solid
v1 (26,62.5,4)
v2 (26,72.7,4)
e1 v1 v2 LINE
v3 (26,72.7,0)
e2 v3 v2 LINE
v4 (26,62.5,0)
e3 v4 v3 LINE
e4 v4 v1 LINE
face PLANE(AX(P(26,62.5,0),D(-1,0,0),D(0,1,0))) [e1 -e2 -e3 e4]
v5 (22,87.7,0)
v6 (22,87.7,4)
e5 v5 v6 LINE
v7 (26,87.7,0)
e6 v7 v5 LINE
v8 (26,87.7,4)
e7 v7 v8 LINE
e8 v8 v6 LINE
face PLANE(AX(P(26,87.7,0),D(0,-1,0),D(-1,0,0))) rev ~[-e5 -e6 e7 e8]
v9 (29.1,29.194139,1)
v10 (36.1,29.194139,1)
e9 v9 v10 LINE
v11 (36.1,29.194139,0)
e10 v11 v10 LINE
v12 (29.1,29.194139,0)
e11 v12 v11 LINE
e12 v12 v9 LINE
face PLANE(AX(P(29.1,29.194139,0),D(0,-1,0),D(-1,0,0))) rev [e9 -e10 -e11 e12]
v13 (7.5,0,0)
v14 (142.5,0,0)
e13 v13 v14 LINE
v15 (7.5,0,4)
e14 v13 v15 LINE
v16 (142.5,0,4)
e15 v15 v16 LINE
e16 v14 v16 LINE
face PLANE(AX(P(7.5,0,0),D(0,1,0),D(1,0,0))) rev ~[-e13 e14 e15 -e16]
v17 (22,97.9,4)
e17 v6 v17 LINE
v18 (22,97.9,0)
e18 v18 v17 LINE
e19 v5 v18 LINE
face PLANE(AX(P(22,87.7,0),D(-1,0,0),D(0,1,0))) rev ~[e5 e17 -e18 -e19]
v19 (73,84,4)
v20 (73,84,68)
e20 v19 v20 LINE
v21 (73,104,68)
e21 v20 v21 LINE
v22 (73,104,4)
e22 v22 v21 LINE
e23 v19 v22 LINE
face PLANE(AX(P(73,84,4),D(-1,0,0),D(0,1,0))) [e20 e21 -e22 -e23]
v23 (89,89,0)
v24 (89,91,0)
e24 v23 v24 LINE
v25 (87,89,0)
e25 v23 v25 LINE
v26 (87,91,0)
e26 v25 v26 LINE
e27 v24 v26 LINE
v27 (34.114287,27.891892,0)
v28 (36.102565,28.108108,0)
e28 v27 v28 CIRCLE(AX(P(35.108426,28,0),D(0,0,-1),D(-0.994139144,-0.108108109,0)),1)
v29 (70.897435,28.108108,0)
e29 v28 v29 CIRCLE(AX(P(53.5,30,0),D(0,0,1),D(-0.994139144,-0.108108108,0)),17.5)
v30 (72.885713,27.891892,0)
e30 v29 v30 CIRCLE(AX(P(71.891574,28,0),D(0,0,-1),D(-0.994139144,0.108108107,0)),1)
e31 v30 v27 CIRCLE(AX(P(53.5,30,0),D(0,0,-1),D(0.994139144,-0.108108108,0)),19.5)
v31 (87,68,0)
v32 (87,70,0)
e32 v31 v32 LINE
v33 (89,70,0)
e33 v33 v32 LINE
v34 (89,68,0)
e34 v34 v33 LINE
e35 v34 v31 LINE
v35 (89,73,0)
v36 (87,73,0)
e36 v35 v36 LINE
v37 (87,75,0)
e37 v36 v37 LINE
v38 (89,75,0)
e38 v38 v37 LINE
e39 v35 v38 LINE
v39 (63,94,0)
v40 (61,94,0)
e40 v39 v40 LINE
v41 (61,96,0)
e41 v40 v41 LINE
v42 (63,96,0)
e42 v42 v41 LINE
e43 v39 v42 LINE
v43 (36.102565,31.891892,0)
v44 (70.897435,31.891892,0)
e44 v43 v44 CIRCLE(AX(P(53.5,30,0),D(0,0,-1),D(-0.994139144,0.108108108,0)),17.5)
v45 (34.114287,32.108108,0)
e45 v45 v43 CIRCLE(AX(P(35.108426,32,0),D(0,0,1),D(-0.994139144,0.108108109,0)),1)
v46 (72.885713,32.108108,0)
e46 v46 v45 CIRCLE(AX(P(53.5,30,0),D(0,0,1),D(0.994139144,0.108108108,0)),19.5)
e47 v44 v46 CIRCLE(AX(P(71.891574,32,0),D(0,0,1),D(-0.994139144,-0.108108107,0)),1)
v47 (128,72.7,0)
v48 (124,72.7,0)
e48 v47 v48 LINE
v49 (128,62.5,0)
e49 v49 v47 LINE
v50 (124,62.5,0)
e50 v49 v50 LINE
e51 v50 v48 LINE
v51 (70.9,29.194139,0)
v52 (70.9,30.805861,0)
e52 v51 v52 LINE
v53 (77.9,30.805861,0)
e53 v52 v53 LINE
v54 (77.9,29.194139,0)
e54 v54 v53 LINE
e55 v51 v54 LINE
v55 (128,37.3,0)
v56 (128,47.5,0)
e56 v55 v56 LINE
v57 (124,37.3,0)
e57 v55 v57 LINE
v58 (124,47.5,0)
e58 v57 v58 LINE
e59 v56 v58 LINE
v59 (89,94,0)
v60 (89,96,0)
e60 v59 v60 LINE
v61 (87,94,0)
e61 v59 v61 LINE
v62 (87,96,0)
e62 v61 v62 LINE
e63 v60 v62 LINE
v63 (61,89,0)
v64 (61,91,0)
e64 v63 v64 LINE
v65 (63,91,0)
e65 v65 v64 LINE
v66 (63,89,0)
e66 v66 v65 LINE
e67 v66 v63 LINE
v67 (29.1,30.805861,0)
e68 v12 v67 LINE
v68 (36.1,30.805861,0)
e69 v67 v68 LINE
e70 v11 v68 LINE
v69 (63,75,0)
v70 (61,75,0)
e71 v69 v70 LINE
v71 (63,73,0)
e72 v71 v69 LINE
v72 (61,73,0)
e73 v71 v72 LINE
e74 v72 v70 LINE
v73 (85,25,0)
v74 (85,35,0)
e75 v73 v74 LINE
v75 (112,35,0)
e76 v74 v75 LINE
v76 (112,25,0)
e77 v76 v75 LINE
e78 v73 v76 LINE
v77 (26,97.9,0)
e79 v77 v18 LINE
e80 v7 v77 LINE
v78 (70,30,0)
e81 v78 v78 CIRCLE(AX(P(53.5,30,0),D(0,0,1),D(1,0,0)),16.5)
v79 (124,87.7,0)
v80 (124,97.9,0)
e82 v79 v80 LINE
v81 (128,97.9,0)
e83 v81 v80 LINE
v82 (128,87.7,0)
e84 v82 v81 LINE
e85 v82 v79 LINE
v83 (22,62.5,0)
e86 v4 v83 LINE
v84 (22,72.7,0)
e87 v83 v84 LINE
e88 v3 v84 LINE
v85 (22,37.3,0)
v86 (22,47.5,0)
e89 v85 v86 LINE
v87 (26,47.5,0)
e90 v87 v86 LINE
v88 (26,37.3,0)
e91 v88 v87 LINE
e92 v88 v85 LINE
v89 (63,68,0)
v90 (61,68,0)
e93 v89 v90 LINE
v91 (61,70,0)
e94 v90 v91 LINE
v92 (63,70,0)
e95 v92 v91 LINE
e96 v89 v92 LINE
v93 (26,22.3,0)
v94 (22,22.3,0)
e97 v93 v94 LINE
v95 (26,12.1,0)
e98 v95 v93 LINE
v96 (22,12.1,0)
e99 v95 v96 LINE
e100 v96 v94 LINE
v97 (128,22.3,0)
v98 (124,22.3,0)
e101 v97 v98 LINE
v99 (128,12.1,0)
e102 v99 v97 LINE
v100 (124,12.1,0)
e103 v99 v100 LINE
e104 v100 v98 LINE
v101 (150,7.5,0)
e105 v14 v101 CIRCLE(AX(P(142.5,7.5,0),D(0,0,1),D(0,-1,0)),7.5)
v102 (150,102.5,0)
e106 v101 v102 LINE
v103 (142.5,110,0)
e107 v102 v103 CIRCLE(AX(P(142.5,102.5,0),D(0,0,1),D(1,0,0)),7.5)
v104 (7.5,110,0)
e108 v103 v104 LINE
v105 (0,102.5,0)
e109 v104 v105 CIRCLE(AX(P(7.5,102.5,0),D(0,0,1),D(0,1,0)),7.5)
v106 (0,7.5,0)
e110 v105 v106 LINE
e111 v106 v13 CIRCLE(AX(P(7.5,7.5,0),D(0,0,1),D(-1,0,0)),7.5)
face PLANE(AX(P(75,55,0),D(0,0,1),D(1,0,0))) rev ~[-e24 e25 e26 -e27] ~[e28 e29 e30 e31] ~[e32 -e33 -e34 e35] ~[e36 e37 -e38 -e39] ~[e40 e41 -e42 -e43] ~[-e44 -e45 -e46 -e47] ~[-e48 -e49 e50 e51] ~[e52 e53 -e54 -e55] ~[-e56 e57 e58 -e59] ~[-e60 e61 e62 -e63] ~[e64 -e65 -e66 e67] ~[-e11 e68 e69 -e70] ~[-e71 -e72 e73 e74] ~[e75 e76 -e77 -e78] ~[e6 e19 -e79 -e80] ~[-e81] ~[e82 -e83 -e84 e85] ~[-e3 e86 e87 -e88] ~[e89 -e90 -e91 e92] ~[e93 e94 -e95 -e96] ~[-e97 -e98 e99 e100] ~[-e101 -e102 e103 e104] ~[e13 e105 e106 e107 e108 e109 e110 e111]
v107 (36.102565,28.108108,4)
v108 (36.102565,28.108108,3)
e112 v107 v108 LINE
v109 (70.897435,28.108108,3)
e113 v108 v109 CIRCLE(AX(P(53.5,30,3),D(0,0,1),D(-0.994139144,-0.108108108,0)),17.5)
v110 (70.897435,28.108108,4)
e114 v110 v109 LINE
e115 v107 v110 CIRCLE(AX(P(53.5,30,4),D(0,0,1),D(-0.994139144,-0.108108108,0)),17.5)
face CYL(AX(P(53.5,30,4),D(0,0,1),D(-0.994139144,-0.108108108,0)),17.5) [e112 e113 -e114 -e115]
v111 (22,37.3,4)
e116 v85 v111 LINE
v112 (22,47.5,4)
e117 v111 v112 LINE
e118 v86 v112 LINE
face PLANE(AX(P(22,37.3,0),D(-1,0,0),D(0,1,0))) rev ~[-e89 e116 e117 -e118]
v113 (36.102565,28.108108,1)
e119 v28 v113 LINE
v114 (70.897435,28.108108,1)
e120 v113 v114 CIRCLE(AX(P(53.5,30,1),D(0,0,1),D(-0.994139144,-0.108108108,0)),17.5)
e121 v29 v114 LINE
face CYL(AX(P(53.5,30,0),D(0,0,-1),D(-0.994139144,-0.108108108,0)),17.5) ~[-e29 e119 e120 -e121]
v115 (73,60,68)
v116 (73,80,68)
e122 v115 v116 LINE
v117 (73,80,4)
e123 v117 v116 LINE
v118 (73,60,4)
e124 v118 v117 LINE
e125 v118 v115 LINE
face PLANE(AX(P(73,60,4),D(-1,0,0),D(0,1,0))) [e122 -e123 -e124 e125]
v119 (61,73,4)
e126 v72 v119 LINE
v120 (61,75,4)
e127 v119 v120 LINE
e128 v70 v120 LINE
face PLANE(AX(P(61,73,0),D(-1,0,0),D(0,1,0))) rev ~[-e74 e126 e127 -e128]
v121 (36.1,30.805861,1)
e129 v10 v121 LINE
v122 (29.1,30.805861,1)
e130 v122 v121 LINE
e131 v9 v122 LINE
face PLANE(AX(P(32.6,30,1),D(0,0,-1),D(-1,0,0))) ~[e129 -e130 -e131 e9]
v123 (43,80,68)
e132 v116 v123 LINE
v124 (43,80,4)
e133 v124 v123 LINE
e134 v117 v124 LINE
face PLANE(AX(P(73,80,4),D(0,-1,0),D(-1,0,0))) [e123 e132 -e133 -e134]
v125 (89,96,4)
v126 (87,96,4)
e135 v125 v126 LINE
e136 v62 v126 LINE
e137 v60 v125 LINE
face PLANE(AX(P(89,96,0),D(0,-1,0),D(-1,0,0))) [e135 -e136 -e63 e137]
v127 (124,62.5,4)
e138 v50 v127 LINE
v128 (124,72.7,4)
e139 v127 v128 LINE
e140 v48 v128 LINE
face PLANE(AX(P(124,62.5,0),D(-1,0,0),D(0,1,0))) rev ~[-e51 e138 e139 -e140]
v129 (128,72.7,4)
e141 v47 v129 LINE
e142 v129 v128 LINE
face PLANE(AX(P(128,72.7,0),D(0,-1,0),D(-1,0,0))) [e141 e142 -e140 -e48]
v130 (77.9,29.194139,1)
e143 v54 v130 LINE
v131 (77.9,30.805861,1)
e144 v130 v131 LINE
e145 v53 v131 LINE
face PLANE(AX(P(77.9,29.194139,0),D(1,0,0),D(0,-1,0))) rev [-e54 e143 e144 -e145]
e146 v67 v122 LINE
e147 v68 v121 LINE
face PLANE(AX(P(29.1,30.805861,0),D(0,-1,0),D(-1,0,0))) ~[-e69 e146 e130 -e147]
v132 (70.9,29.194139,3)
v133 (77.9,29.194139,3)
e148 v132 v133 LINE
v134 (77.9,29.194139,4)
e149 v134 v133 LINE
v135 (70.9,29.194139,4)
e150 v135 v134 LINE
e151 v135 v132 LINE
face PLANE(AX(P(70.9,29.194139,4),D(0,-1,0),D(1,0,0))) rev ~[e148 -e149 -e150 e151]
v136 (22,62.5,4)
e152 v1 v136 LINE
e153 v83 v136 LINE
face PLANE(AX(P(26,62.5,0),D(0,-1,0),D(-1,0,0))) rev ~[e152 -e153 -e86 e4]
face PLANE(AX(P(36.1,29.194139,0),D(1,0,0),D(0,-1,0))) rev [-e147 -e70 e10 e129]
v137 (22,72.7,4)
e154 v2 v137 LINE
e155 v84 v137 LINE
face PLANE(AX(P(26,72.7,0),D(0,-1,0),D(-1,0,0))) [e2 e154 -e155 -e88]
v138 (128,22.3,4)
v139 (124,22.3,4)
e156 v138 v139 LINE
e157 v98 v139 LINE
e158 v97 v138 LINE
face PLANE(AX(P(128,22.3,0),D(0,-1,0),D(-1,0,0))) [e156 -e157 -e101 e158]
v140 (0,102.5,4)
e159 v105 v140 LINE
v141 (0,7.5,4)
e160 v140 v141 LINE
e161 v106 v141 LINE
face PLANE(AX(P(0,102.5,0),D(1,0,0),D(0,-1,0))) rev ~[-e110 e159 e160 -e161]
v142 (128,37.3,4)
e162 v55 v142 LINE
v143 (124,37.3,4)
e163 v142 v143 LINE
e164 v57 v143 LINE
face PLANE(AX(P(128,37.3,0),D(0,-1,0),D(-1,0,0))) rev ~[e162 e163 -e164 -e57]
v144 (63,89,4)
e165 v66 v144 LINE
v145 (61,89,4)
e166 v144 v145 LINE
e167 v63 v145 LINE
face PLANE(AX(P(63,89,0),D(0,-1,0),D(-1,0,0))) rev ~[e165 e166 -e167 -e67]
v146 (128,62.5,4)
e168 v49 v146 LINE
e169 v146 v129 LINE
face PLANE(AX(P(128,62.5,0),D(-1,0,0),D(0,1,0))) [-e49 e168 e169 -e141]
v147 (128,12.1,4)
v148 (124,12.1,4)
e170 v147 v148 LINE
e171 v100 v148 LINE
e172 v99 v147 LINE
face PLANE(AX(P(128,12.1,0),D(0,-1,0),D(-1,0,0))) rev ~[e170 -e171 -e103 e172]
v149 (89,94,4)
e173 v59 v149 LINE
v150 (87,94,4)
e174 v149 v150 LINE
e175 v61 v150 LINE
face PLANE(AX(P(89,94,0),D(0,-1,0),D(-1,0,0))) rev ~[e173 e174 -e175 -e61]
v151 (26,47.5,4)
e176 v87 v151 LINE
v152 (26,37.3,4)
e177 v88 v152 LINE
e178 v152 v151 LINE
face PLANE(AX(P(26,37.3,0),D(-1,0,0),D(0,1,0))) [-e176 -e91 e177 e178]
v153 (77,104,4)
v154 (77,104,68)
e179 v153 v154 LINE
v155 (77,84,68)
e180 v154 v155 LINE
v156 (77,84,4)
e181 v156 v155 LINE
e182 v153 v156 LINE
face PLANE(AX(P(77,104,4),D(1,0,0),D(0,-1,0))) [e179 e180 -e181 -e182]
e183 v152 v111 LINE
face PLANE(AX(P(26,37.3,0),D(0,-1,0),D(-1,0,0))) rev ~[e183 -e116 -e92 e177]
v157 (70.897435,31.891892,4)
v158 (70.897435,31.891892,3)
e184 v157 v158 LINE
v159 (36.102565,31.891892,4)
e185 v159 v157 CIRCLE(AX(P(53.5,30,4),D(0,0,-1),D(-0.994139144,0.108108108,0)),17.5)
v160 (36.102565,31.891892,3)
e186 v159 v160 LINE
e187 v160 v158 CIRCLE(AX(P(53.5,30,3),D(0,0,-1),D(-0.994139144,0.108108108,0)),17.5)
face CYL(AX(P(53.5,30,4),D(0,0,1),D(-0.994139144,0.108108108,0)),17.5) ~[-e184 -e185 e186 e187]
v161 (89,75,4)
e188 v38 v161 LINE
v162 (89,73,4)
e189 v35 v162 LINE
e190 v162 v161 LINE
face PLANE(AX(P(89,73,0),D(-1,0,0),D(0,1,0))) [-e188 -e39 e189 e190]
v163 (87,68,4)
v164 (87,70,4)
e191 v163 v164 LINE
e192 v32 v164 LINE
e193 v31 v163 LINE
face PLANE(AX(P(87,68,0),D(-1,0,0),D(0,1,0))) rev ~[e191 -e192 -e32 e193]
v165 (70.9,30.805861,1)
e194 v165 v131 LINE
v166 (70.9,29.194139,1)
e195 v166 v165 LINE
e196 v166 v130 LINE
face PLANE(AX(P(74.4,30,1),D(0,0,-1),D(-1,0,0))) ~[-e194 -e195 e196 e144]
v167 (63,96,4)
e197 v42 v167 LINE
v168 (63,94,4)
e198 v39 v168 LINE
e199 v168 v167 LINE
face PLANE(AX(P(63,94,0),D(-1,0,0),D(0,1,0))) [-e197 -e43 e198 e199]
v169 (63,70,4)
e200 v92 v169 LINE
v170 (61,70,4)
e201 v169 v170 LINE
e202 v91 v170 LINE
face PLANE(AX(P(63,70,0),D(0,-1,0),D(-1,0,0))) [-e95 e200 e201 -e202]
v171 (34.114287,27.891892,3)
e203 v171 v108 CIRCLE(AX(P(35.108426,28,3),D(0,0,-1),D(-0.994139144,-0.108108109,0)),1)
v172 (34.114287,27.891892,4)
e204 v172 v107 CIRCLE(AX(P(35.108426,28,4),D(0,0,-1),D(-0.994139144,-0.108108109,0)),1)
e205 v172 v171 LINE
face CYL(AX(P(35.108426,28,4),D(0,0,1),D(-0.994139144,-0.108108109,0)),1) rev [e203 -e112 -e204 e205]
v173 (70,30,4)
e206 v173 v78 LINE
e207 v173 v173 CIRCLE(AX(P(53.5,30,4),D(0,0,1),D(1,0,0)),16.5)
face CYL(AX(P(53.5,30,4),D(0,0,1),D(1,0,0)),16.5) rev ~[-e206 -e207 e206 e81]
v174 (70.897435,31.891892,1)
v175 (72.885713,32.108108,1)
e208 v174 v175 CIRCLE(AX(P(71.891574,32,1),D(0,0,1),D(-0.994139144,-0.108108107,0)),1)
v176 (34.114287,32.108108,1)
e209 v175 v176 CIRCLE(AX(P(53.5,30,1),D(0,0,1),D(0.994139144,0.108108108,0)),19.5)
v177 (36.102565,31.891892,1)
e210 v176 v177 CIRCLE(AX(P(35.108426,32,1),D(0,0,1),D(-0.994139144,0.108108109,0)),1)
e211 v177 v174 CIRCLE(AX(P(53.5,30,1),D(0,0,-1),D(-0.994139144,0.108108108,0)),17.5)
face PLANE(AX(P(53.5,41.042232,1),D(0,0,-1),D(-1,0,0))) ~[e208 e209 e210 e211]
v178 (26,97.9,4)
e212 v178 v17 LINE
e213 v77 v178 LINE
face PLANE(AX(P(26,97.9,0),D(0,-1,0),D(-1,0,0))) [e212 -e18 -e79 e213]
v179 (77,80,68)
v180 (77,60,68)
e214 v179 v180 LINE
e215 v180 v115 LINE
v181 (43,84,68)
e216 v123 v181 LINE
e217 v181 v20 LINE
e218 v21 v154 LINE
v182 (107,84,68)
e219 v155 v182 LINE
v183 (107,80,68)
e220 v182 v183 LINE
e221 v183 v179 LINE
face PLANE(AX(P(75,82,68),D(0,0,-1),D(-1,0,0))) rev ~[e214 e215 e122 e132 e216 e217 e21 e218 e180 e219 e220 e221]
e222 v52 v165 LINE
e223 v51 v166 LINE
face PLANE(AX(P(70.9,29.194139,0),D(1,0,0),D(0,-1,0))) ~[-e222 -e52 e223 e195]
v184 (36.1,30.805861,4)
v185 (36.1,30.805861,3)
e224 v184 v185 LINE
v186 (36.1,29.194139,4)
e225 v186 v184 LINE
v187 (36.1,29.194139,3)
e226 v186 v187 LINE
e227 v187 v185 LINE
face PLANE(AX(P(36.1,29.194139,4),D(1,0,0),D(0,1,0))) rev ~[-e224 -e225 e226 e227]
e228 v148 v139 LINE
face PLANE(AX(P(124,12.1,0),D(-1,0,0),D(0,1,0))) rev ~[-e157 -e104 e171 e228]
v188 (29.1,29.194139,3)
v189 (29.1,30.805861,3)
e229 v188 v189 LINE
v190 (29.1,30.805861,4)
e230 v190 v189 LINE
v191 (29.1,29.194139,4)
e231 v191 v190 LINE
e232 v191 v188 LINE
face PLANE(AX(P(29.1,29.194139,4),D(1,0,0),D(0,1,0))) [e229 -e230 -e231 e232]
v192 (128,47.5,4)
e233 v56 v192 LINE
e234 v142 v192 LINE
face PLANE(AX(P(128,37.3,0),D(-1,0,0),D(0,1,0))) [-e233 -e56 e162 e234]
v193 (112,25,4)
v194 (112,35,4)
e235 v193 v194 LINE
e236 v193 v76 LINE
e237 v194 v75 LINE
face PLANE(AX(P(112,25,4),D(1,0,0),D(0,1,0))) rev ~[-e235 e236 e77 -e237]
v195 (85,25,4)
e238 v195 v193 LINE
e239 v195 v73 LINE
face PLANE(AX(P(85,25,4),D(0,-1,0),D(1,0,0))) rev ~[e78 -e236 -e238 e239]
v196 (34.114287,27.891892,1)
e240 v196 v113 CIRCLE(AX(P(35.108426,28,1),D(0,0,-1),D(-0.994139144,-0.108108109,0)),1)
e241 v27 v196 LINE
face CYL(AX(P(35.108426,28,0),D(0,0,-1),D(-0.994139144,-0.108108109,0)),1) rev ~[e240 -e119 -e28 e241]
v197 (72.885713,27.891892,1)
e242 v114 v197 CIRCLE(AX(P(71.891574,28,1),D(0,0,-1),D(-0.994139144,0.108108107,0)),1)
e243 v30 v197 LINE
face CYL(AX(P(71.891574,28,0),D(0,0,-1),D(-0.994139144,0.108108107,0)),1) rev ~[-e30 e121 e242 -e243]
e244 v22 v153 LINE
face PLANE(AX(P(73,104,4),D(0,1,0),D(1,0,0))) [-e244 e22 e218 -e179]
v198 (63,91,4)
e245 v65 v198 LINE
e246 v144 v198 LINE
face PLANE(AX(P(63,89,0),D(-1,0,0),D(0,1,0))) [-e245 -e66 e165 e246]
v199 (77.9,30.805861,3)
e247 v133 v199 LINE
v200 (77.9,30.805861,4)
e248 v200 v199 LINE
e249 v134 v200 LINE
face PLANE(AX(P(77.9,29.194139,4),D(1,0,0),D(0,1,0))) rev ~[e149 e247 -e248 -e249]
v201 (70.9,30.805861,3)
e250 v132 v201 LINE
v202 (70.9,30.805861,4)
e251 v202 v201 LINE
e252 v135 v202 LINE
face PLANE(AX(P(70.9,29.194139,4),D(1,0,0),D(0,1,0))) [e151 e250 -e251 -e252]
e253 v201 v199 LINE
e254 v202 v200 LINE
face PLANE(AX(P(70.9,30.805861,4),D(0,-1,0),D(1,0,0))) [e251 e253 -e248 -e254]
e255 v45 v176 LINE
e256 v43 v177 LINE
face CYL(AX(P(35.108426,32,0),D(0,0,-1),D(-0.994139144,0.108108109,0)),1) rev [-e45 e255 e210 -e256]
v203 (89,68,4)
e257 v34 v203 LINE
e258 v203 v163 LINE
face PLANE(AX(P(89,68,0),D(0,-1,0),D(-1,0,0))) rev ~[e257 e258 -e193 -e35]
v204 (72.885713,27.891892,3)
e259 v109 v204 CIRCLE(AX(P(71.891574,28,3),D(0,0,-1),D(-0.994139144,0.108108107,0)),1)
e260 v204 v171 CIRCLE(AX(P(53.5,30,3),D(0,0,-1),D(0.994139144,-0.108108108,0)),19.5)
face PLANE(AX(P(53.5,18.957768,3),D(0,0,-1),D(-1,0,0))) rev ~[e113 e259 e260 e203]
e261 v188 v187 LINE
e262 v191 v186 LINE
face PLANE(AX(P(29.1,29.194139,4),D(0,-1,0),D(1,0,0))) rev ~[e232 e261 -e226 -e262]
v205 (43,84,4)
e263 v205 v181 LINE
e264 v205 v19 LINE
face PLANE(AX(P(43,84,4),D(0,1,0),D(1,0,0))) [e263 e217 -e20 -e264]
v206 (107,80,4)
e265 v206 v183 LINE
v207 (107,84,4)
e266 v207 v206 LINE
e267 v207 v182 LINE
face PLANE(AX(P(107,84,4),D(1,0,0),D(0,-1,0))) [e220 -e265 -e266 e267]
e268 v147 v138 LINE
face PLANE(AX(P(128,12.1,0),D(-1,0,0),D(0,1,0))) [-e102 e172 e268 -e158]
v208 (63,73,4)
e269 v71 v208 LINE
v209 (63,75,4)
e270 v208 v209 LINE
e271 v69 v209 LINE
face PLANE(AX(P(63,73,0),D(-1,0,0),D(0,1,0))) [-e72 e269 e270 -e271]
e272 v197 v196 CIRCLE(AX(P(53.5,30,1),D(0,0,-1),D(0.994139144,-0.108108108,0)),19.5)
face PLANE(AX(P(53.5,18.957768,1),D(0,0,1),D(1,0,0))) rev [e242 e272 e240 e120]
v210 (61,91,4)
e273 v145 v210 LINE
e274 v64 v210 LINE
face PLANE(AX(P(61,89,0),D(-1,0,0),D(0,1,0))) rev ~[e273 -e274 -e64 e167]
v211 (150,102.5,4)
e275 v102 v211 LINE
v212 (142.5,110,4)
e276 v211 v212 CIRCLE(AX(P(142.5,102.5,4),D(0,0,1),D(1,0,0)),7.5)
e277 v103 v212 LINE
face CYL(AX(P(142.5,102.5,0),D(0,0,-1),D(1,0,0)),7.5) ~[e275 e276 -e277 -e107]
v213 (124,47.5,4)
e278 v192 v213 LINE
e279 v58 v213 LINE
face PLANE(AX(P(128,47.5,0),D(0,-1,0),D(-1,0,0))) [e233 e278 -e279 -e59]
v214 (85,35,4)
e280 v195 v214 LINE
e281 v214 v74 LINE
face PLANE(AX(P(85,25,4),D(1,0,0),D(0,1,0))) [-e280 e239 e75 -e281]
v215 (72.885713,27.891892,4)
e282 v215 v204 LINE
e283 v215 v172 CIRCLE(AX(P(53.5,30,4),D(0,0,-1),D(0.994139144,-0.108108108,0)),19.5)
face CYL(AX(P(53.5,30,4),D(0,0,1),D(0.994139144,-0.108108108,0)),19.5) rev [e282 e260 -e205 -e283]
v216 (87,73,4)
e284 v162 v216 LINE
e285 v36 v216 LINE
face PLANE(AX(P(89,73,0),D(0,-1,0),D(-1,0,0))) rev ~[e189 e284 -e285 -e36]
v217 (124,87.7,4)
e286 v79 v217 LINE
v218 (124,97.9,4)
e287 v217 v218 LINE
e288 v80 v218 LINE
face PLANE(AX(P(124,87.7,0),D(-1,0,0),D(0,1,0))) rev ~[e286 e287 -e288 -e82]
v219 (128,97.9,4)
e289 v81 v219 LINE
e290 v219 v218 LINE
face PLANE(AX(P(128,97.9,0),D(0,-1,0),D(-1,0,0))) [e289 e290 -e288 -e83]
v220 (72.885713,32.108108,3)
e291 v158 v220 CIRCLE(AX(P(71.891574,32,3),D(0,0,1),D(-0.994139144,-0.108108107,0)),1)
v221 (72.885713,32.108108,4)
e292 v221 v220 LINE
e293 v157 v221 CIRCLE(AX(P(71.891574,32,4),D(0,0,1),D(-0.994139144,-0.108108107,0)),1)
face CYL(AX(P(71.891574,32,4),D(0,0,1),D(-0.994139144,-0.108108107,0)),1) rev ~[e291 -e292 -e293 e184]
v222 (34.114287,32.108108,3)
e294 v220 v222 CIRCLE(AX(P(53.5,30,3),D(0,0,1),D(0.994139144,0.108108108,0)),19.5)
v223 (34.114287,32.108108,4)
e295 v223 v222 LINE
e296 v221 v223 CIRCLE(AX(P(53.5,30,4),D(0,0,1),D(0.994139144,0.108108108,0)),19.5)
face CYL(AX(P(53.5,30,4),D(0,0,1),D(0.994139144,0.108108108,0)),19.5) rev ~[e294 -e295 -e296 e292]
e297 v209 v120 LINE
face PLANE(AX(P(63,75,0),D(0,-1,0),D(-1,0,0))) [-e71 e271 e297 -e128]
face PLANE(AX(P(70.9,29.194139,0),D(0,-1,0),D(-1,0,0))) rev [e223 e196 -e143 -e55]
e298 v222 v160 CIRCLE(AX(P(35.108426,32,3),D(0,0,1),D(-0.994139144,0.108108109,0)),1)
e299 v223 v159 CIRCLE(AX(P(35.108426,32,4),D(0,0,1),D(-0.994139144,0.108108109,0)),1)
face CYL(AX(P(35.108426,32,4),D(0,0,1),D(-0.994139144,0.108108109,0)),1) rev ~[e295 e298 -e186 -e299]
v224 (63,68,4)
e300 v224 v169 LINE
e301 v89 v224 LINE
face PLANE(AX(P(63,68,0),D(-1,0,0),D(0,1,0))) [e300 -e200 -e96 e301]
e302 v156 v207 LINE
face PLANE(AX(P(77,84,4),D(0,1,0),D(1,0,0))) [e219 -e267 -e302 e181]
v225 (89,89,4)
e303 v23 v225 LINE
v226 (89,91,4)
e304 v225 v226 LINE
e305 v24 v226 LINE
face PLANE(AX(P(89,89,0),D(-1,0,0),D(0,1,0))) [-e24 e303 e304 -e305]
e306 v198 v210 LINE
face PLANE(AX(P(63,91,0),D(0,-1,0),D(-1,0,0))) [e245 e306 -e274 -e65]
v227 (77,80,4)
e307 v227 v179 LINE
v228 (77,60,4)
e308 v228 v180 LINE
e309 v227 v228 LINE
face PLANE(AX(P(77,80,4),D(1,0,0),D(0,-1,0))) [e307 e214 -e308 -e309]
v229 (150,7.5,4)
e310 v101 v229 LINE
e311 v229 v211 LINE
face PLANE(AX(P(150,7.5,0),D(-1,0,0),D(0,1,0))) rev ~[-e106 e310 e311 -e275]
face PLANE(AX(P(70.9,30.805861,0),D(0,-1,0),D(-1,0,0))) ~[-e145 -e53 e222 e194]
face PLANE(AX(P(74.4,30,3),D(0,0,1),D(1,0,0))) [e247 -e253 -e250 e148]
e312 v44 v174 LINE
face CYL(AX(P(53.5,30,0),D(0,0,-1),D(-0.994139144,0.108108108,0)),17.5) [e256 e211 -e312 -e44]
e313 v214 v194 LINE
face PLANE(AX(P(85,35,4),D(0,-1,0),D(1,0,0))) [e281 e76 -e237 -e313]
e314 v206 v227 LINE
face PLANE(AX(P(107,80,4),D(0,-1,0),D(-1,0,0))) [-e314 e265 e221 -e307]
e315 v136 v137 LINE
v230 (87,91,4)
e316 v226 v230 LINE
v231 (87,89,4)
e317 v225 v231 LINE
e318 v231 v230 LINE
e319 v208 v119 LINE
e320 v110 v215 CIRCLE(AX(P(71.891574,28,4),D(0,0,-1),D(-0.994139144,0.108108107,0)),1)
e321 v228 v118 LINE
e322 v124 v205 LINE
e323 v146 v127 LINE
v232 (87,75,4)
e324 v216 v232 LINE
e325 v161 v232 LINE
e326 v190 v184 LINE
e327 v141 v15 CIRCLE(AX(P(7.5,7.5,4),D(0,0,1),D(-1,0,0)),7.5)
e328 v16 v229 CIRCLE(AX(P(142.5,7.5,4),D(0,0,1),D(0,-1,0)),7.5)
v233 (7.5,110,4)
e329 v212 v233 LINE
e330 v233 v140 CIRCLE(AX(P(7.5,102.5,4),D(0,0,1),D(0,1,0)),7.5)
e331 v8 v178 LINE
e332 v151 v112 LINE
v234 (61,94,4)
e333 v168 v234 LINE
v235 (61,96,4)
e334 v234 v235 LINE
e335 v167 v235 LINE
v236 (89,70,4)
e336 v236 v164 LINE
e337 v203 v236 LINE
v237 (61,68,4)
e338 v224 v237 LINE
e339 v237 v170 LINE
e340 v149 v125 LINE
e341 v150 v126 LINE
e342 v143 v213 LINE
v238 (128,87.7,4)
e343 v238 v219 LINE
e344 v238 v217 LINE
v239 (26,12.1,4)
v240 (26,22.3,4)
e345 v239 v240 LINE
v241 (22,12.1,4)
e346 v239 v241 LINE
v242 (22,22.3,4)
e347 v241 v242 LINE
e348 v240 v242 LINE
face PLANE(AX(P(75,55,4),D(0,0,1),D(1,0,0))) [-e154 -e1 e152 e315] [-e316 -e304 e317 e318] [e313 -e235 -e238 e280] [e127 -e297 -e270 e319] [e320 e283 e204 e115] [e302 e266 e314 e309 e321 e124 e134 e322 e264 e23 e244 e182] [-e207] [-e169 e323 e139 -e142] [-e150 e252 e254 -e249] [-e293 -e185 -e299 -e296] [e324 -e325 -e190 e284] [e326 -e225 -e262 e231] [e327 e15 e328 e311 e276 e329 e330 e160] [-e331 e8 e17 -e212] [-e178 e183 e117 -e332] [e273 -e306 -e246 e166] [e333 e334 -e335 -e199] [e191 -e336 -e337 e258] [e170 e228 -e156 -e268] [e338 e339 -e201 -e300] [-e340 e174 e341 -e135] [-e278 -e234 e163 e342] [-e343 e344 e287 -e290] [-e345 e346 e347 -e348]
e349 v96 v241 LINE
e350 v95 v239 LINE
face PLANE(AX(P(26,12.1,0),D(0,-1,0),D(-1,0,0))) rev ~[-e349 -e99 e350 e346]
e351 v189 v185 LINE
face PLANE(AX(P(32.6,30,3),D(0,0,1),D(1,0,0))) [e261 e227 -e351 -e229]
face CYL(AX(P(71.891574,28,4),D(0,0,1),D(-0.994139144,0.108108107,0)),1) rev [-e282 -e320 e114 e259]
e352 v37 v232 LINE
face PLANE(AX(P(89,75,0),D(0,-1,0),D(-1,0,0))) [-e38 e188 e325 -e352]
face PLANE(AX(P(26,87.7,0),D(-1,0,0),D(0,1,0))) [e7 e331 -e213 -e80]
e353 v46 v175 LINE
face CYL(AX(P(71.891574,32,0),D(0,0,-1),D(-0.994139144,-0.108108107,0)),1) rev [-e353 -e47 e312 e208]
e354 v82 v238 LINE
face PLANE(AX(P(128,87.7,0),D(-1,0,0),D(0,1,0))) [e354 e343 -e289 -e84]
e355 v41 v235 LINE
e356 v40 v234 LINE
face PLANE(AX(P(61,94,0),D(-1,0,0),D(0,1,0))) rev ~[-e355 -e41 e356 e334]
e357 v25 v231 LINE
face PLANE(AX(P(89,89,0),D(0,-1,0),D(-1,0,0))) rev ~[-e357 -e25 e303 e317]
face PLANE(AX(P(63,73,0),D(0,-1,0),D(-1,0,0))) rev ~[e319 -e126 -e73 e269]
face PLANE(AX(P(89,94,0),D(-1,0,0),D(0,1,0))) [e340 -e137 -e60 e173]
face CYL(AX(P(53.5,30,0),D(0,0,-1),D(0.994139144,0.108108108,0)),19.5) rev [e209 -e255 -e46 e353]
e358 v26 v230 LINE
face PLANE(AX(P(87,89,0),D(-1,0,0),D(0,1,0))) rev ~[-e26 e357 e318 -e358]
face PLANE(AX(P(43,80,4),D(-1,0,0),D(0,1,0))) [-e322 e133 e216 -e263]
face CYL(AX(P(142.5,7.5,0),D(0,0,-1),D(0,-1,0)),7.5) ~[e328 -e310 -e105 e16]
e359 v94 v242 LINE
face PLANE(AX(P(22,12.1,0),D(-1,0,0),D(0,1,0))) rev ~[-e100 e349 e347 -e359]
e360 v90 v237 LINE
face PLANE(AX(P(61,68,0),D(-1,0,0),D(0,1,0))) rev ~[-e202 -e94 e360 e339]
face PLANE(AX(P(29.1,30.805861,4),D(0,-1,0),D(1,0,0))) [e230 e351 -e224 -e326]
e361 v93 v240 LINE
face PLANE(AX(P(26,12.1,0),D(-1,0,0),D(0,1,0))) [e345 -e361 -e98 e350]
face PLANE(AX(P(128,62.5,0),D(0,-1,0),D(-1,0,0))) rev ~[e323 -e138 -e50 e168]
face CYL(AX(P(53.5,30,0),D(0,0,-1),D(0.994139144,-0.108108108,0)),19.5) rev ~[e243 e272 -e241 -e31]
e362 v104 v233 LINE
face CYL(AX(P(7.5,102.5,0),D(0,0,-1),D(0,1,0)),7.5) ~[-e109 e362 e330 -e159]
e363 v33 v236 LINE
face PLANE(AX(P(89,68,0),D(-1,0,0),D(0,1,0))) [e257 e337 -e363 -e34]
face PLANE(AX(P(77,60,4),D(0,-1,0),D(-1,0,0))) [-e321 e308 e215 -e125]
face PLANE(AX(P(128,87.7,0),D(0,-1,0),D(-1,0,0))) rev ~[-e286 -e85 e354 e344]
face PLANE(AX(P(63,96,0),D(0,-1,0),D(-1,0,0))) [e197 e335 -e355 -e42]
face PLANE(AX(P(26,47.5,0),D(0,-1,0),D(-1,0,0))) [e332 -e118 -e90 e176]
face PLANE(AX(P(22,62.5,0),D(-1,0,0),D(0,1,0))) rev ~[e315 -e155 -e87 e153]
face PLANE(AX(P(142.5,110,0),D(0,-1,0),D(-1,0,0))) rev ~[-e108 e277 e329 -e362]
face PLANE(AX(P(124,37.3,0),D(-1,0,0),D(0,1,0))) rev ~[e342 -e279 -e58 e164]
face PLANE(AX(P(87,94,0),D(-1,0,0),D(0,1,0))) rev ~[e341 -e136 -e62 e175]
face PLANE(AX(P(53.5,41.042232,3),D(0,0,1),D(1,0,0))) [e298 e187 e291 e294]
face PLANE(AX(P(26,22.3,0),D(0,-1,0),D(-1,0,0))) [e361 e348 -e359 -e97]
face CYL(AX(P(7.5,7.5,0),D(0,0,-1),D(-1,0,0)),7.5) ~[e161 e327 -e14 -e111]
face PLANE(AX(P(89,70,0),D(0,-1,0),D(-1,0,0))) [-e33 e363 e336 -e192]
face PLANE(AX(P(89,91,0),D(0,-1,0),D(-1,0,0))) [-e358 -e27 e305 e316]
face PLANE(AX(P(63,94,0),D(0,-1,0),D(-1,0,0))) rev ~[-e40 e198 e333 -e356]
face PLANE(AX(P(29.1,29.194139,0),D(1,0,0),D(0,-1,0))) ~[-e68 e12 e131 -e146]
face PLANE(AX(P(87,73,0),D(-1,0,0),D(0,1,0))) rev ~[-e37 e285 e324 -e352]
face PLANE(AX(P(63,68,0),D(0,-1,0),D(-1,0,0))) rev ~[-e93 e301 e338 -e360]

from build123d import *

# Parameters (mm, degrees)
SALIENTE_EXTRUIR1_DEPTH = 4
CROQUIS2_R              = 16.5
CROQUIS2_W              = 27
CROQUIS2_H              = 10
CORTAR_EXTRUIR1_DEPTH   = 4
SALIENTE_EXTRUIR2_DEPTH = 64
CORTAR_EXTRUIR2_REACH   = 200.05
CROQUIS5_W              = 4
CROQUIS5_H              = 10.2
CROQUIS5_W_2            = 2
CROQUIS5_H_2            = 2
CROQUIS6_W              = 7
CROQUIS6_H              = 1.611721712
CORTAR_EXTRUIR3_DEPTH   = 1


with BuildPart() as part:
    # Croquis1 → Saliente-Extruir1 (new body)
    with BuildSketch(Plane.XY):
        with BuildLine():
            Line((7.5, 0), (142.5, 0))
            ThreePointArc((142.5, 0), (147.803300859, 2.196699141), (150, 7.5))
            Line((150, 7.5), (150, 102.5))
            ThreePointArc((150, 102.5), (147.803300859, 107.803300859), (142.5, 110))
            Line((142.5, 110), (7.5, 110))
            ThreePointArc((7.5, 110), (2.196699141, 107.803300859), (0, 102.5))
            Line((0, 102.5), (0, 7.5))
            ThreePointArc((0, 7.5), (2.196699141, 2.196699141), (7.5, 0))
        make_face()
    extrude(amount=SALIENTE_EXTRUIR1_DEPTH)

    # Croquis2 → Cortar-Extruir1 (cut)
    with BuildSketch(Plane.XY.offset(4)):
        with Locations((53.5, 30)):
            Circle(CROQUIS2_R)
        with Locations((98.5, 30)):
            Rectangle(CROQUIS2_W, CROQUIS2_H)
    extrude(amount=-CORTAR_EXTRUIR1_DEPTH, mode=Mode.SUBTRACT)

    # Croquis4 → Saliente-Extruir2 (add)
    with BuildSketch(Plane.XY.offset(4)):
        Polygon((73, 60), (73, 80), (43, 80), (43, 84), (73, 84), (73, 104), (77, 104), (77, 84), (107, 84), (107, 80), (77, 80), (77, 60), align=None)
    extrude(amount=SALIENTE_EXTRUIR2_DEPTH)

    # Croquis5 → Cortar-Extruir2 (cut, up to next)
    with BuildSketch(Plane(origin=(0, 0, 0), x_dir=(-1, 0, 0), z_dir=(0, 0, -1)), mode=Mode.PRIVATE) as cortar_extruir2_sk1:
        with Locations((-126, 67.6)):
            Rectangle(CROQUIS5_W, CROQUIS5_H)
    cortar_extruir2_tool1 = extrude(cortar_extruir2_sk1.sketch, amount=-CORTAR_EXTRUIR2_REACH, mode=Mode.PRIVATE) & part.part
    # Croquis5 → Cortar-Extruir2 (cut, up to next)
    with BuildSketch(Plane(origin=(0, 0, 0), x_dir=(-1, 0, 0), z_dir=(0, 0, -1)), mode=Mode.PRIVATE) as cortar_extruir2_sk2:
        with Locations((-126, 42.4)):
            Rectangle(CROQUIS5_W, CROQUIS5_H)
    cortar_extruir2_tool2 = extrude(cortar_extruir2_sk2.sketch, amount=-CORTAR_EXTRUIR2_REACH, mode=Mode.PRIVATE) & part.part
    # Croquis5 → Cortar-Extruir2 (cut, up to next)
    with BuildSketch(Plane(origin=(0, 0, 0), x_dir=(-1, 0, 0), z_dir=(0, 0, -1)), mode=Mode.PRIVATE) as cortar_extruir2_sk3:
        with Locations((-126, 17.2)):
            Rectangle(CROQUIS5_W, CROQUIS5_H)
    cortar_extruir2_tool3 = extrude(cortar_extruir2_sk3.sketch, amount=-CORTAR_EXTRUIR2_REACH, mode=Mode.PRIVATE) & part.part
    # Croquis5 → Cortar-Extruir2 (cut, up to next)
    with BuildSketch(Plane(origin=(0, 0, 0), x_dir=(-1, 0, 0), z_dir=(0, 0, -1)), mode=Mode.PRIVATE) as cortar_extruir2_sk4:
        with Locations((-126, 92.8)):
            Rectangle(CROQUIS5_W, CROQUIS5_H)
    cortar_extruir2_tool4 = extrude(cortar_extruir2_sk4.sketch, amount=-CORTAR_EXTRUIR2_REACH, mode=Mode.PRIVATE) & part.part
    # Croquis5 → Cortar-Extruir2 (cut, up to next)
    with BuildSketch(Plane(origin=(0, 0, 0), x_dir=(-1, 0, 0), z_dir=(0, 0, -1)), mode=Mode.PRIVATE) as cortar_extruir2_sk5:
        with Locations((-24, 92.8)):
            Rectangle(CROQUIS5_W, CROQUIS5_H)
    cortar_extruir2_tool5 = extrude(cortar_extruir2_sk5.sketch, amount=-CORTAR_EXTRUIR2_REACH, mode=Mode.PRIVATE) & part.part
    # Croquis5 → Cortar-Extruir2 (cut, up to next)
    with BuildSketch(Plane(origin=(0, 0, 0), x_dir=(-1, 0, 0), z_dir=(0, 0, -1)), mode=Mode.PRIVATE) as cortar_extruir2_sk6:
        with Locations((-24, 67.6)):
            Rectangle(CROQUIS5_W, CROQUIS5_H)
    cortar_extruir2_tool6 = extrude(cortar_extruir2_sk6.sketch, amount=-CORTAR_EXTRUIR2_REACH, mode=Mode.PRIVATE) & part.part
    # Croquis5 → Cortar-Extruir2 (cut, up to next)
    with BuildSketch(Plane(origin=(0, 0, 0), x_dir=(-1, 0, 0), z_dir=(0, 0, -1)), mode=Mode.PRIVATE) as cortar_extruir2_sk7:
        with Locations((-24, 42.4)):
            Rectangle(CROQUIS5_W, CROQUIS5_H)
    cortar_extruir2_tool7 = extrude(cortar_extruir2_sk7.sketch, amount=-CORTAR_EXTRUIR2_REACH, mode=Mode.PRIVATE) & part.part
    # Croquis5 → Cortar-Extruir2 (cut, up to next)
    with BuildSketch(Plane(origin=(0, 0, 0), x_dir=(-1, 0, 0), z_dir=(0, 0, -1)), mode=Mode.PRIVATE) as cortar_extruir2_sk8:
        with Locations((-24, 17.2)):
            Rectangle(CROQUIS5_W, CROQUIS5_H)
    cortar_extruir2_tool8 = extrude(cortar_extruir2_sk8.sketch, amount=-CORTAR_EXTRUIR2_REACH, mode=Mode.PRIVATE) & part.part
    # Croquis5 → Cortar-Extruir2 (cut, up to next)
    with BuildSketch(Plane(origin=(0, 0, 0), x_dir=(-1, 0, 0), z_dir=(0, 0, -1)), mode=Mode.PRIVATE) as cortar_extruir2_sk9:
        with Locations((-88, 95)):
            Rectangle(CROQUIS5_W_2, CROQUIS5_H_2)
    cortar_extruir2_tool9 = extrude(cortar_extruir2_sk9.sketch, amount=-CORTAR_EXTRUIR2_REACH, mode=Mode.PRIVATE) & part.part
    # Croquis5 → Cortar-Extruir2 (cut, up to next)
    with BuildSketch(Plane(origin=(0, 0, 0), x_dir=(-1, 0, 0), z_dir=(0, 0, -1)), mode=Mode.PRIVATE) as cortar_extruir2_sk10:
        with Locations((-88, 90)):
            Rectangle(CROQUIS5_W_2, CROQUIS5_H_2)
    cortar_extruir2_tool10 = extrude(cortar_extruir2_sk10.sketch, amount=-CORTAR_EXTRUIR2_REACH, mode=Mode.PRIVATE) & part.part
    # Croquis5 → Cortar-Extruir2 (cut, up to next)
    with BuildSketch(Plane(origin=(0, 0, 0), x_dir=(-1, 0, 0), z_dir=(0, 0, -1)), mode=Mode.PRIVATE) as cortar_extruir2_sk11:
        with Locations((-62, 90)):
            Rectangle(CROQUIS5_W_2, CROQUIS5_H_2)
    cortar_extruir2_tool11 = extrude(cortar_extruir2_sk11.sketch, amount=-CORTAR_EXTRUIR2_REACH, mode=Mode.PRIVATE) & part.part
    # Croquis5 → Cortar-Extruir2 (cut, up to next)
    with BuildSketch(Plane(origin=(0, 0, 0), x_dir=(-1, 0, 0), z_dir=(0, 0, -1)), mode=Mode.PRIVATE) as cortar_extruir2_sk12:
        with Locations((-62, 95)):
            Rectangle(CROQUIS5_W_2, CROQUIS5_H_2)
    cortar_extruir2_tool12 = extrude(cortar_extruir2_sk12.sketch, amount=-CORTAR_EXTRUIR2_REACH, mode=Mode.PRIVATE) & part.part
    # Croquis5 → Cortar-Extruir2 (cut, up to next)
    with BuildSketch(Plane(origin=(0, 0, 0), x_dir=(-1, 0, 0), z_dir=(0, 0, -1)), mode=Mode.PRIVATE) as cortar_extruir2_sk13:
        with Locations((-88, 74)):
            Rectangle(CROQUIS5_W_2, CROQUIS5_H_2)
    cortar_extruir2_tool13 = extrude(cortar_extruir2_sk13.sketch, amount=-CORTAR_EXTRUIR2_REACH, mode=Mode.PRIVATE) & part.part
    # Croquis5 → Cortar-Extruir2 (cut, up to next)
    with BuildSketch(Plane(origin=(0, 0, 0), x_dir=(-1, 0, 0), z_dir=(0, 0, -1)), mode=Mode.PRIVATE) as cortar_extruir2_sk14:
        with Locations((-88, 69)):
            Rectangle(CROQUIS5_W_2, CROQUIS5_H_2)
    cortar_extruir2_tool14 = extrude(cortar_extruir2_sk14.sketch, amount=-CORTAR_EXTRUIR2_REACH, mode=Mode.PRIVATE) & part.part
    # Croquis5 → Cortar-Extruir2 (cut, up to next)
    with BuildSketch(Plane(origin=(0, 0, 0), x_dir=(-1, 0, 0), z_dir=(0, 0, -1)), mode=Mode.PRIVATE) as cortar_extruir2_sk15:
        with Locations((-62, 69)):
            Rectangle(CROQUIS5_W_2, CROQUIS5_H_2)
    cortar_extruir2_tool15 = extrude(cortar_extruir2_sk15.sketch, amount=-CORTAR_EXTRUIR2_REACH, mode=Mode.PRIVATE) & part.part
    # Croquis5 → Cortar-Extruir2 (cut, up to next)
    with BuildSketch(Plane(origin=(0, 0, 0), x_dir=(-1, 0, 0), z_dir=(0, 0, -1)), mode=Mode.PRIVATE) as cortar_extruir2_sk16:
        with Locations((-62, 74)):
            Rectangle(CROQUIS5_W_2, CROQUIS5_H_2)
    cortar_extruir2_tool16 = extrude(cortar_extruir2_sk16.sketch, amount=-CORTAR_EXTRUIR2_REACH, mode=Mode.PRIVATE) & part.part
    add(cortar_extruir2_tool1.solids().sort_by_distance((126, 67.6, 0))[0], mode=Mode.SUBTRACT)
    add(cortar_extruir2_tool2.solids().sort_by_distance((126, 42.4, 0))[0], mode=Mode.SUBTRACT)
    add(cortar_extruir2_tool3.solids().sort_by_distance((126, 17.2, 0))[0], mode=Mode.SUBTRACT)
    add(cortar_extruir2_tool4.solids().sort_by_distance((126, 92.8, 0))[0], mode=Mode.SUBTRACT)
    add(cortar_extruir2_tool5.solids().sort_by_distance((24, 92.8, 0))[0], mode=Mode.SUBTRACT)
    add(cortar_extruir2_tool6.solids().sort_by_distance((24, 67.6, 0))[0], mode=Mode.SUBTRACT)
    add(cortar_extruir2_tool7.solids().sort_by_distance((24, 42.4, 0))[0], mode=Mode.SUBTRACT)
    add(cortar_extruir2_tool8.solids().sort_by_distance((24, 17.2, 0))[0], mode=Mode.SUBTRACT)
    add(cortar_extruir2_tool9.solids().sort_by_distance((88, 95, 0))[0], mode=Mode.SUBTRACT)
    add(cortar_extruir2_tool10.solids().sort_by_distance((88, 90, 0))[0], mode=Mode.SUBTRACT)
    add(cortar_extruir2_tool11.solids().sort_by_distance((62, 90, 0))[0], mode=Mode.SUBTRACT)
    add(cortar_extruir2_tool12.solids().sort_by_distance((62, 95, 0))[0], mode=Mode.SUBTRACT)
    add(cortar_extruir2_tool13.solids().sort_by_distance((88, 74, 0))[0], mode=Mode.SUBTRACT)
    add(cortar_extruir2_tool14.solids().sort_by_distance((88, 69, 0))[0], mode=Mode.SUBTRACT)
    add(cortar_extruir2_tool15.solids().sort_by_distance((62, 69, 0))[0], mode=Mode.SUBTRACT)
    add(cortar_extruir2_tool16.solids().sort_by_distance((62, 74, 0))[0], mode=Mode.SUBTRACT)

    # Croquis6 → Cortar-Extruir3 (cut)
    with BuildSketch(Plane.XY.offset(4)):
        with Locations((74.4, 30)):
            Rectangle(CROQUIS6_W, CROQUIS6_H)
        with Locations((32.6, 30)):
            Rectangle(CROQUIS6_W, CROQUIS6_H)
        with BuildLine():
            ThreePointArc((72.885713301, 32.108108108), (53.5, 49.5), (34.114286699, 32.108108108))
            ThreePointArc((34.114286699, 32.108108108), (35.000317734, 31.005860856), (36.102564986, 31.891891892))
            ThreePointArc((36.102564986, 31.891891892), (53.5, 47.5), (70.897435014, 31.891891892))
            ThreePointArc((70.897435014, 31.891891892), (71.999682266, 31.005860856), (72.885713301, 32.108108108))
        make_face()
        with BuildLine():
            ThreePointArc((72.885713301, 27.891891892), (53.5, 10.5), (34.114286699, 27.891891892))
            ThreePointArc((34.114286699, 27.891891892), (35.000317734, 28.994139144), (36.102564986, 28.108108108))
            ThreePointArc((36.102564986, 28.108108108), (53.5, 12.5), (70.897435014, 28.108108108))
            ThreePointArc((70.897435014, 28.108108108), (71.999682266, 28.994139144), (72.885713301, 27.891891892))
        make_face()
    cortar_extruir3 = extrude(amount=-CORTAR_EXTRUIR3_DEPTH, mode=Mode.SUBTRACT)

    # Simetría1: Cortar-Extruir3 across plane
    add(cortar_extruir3.mirror(Plane.XY.offset(2)), mode=Mode.SUBTRACT)


solid = part.part
